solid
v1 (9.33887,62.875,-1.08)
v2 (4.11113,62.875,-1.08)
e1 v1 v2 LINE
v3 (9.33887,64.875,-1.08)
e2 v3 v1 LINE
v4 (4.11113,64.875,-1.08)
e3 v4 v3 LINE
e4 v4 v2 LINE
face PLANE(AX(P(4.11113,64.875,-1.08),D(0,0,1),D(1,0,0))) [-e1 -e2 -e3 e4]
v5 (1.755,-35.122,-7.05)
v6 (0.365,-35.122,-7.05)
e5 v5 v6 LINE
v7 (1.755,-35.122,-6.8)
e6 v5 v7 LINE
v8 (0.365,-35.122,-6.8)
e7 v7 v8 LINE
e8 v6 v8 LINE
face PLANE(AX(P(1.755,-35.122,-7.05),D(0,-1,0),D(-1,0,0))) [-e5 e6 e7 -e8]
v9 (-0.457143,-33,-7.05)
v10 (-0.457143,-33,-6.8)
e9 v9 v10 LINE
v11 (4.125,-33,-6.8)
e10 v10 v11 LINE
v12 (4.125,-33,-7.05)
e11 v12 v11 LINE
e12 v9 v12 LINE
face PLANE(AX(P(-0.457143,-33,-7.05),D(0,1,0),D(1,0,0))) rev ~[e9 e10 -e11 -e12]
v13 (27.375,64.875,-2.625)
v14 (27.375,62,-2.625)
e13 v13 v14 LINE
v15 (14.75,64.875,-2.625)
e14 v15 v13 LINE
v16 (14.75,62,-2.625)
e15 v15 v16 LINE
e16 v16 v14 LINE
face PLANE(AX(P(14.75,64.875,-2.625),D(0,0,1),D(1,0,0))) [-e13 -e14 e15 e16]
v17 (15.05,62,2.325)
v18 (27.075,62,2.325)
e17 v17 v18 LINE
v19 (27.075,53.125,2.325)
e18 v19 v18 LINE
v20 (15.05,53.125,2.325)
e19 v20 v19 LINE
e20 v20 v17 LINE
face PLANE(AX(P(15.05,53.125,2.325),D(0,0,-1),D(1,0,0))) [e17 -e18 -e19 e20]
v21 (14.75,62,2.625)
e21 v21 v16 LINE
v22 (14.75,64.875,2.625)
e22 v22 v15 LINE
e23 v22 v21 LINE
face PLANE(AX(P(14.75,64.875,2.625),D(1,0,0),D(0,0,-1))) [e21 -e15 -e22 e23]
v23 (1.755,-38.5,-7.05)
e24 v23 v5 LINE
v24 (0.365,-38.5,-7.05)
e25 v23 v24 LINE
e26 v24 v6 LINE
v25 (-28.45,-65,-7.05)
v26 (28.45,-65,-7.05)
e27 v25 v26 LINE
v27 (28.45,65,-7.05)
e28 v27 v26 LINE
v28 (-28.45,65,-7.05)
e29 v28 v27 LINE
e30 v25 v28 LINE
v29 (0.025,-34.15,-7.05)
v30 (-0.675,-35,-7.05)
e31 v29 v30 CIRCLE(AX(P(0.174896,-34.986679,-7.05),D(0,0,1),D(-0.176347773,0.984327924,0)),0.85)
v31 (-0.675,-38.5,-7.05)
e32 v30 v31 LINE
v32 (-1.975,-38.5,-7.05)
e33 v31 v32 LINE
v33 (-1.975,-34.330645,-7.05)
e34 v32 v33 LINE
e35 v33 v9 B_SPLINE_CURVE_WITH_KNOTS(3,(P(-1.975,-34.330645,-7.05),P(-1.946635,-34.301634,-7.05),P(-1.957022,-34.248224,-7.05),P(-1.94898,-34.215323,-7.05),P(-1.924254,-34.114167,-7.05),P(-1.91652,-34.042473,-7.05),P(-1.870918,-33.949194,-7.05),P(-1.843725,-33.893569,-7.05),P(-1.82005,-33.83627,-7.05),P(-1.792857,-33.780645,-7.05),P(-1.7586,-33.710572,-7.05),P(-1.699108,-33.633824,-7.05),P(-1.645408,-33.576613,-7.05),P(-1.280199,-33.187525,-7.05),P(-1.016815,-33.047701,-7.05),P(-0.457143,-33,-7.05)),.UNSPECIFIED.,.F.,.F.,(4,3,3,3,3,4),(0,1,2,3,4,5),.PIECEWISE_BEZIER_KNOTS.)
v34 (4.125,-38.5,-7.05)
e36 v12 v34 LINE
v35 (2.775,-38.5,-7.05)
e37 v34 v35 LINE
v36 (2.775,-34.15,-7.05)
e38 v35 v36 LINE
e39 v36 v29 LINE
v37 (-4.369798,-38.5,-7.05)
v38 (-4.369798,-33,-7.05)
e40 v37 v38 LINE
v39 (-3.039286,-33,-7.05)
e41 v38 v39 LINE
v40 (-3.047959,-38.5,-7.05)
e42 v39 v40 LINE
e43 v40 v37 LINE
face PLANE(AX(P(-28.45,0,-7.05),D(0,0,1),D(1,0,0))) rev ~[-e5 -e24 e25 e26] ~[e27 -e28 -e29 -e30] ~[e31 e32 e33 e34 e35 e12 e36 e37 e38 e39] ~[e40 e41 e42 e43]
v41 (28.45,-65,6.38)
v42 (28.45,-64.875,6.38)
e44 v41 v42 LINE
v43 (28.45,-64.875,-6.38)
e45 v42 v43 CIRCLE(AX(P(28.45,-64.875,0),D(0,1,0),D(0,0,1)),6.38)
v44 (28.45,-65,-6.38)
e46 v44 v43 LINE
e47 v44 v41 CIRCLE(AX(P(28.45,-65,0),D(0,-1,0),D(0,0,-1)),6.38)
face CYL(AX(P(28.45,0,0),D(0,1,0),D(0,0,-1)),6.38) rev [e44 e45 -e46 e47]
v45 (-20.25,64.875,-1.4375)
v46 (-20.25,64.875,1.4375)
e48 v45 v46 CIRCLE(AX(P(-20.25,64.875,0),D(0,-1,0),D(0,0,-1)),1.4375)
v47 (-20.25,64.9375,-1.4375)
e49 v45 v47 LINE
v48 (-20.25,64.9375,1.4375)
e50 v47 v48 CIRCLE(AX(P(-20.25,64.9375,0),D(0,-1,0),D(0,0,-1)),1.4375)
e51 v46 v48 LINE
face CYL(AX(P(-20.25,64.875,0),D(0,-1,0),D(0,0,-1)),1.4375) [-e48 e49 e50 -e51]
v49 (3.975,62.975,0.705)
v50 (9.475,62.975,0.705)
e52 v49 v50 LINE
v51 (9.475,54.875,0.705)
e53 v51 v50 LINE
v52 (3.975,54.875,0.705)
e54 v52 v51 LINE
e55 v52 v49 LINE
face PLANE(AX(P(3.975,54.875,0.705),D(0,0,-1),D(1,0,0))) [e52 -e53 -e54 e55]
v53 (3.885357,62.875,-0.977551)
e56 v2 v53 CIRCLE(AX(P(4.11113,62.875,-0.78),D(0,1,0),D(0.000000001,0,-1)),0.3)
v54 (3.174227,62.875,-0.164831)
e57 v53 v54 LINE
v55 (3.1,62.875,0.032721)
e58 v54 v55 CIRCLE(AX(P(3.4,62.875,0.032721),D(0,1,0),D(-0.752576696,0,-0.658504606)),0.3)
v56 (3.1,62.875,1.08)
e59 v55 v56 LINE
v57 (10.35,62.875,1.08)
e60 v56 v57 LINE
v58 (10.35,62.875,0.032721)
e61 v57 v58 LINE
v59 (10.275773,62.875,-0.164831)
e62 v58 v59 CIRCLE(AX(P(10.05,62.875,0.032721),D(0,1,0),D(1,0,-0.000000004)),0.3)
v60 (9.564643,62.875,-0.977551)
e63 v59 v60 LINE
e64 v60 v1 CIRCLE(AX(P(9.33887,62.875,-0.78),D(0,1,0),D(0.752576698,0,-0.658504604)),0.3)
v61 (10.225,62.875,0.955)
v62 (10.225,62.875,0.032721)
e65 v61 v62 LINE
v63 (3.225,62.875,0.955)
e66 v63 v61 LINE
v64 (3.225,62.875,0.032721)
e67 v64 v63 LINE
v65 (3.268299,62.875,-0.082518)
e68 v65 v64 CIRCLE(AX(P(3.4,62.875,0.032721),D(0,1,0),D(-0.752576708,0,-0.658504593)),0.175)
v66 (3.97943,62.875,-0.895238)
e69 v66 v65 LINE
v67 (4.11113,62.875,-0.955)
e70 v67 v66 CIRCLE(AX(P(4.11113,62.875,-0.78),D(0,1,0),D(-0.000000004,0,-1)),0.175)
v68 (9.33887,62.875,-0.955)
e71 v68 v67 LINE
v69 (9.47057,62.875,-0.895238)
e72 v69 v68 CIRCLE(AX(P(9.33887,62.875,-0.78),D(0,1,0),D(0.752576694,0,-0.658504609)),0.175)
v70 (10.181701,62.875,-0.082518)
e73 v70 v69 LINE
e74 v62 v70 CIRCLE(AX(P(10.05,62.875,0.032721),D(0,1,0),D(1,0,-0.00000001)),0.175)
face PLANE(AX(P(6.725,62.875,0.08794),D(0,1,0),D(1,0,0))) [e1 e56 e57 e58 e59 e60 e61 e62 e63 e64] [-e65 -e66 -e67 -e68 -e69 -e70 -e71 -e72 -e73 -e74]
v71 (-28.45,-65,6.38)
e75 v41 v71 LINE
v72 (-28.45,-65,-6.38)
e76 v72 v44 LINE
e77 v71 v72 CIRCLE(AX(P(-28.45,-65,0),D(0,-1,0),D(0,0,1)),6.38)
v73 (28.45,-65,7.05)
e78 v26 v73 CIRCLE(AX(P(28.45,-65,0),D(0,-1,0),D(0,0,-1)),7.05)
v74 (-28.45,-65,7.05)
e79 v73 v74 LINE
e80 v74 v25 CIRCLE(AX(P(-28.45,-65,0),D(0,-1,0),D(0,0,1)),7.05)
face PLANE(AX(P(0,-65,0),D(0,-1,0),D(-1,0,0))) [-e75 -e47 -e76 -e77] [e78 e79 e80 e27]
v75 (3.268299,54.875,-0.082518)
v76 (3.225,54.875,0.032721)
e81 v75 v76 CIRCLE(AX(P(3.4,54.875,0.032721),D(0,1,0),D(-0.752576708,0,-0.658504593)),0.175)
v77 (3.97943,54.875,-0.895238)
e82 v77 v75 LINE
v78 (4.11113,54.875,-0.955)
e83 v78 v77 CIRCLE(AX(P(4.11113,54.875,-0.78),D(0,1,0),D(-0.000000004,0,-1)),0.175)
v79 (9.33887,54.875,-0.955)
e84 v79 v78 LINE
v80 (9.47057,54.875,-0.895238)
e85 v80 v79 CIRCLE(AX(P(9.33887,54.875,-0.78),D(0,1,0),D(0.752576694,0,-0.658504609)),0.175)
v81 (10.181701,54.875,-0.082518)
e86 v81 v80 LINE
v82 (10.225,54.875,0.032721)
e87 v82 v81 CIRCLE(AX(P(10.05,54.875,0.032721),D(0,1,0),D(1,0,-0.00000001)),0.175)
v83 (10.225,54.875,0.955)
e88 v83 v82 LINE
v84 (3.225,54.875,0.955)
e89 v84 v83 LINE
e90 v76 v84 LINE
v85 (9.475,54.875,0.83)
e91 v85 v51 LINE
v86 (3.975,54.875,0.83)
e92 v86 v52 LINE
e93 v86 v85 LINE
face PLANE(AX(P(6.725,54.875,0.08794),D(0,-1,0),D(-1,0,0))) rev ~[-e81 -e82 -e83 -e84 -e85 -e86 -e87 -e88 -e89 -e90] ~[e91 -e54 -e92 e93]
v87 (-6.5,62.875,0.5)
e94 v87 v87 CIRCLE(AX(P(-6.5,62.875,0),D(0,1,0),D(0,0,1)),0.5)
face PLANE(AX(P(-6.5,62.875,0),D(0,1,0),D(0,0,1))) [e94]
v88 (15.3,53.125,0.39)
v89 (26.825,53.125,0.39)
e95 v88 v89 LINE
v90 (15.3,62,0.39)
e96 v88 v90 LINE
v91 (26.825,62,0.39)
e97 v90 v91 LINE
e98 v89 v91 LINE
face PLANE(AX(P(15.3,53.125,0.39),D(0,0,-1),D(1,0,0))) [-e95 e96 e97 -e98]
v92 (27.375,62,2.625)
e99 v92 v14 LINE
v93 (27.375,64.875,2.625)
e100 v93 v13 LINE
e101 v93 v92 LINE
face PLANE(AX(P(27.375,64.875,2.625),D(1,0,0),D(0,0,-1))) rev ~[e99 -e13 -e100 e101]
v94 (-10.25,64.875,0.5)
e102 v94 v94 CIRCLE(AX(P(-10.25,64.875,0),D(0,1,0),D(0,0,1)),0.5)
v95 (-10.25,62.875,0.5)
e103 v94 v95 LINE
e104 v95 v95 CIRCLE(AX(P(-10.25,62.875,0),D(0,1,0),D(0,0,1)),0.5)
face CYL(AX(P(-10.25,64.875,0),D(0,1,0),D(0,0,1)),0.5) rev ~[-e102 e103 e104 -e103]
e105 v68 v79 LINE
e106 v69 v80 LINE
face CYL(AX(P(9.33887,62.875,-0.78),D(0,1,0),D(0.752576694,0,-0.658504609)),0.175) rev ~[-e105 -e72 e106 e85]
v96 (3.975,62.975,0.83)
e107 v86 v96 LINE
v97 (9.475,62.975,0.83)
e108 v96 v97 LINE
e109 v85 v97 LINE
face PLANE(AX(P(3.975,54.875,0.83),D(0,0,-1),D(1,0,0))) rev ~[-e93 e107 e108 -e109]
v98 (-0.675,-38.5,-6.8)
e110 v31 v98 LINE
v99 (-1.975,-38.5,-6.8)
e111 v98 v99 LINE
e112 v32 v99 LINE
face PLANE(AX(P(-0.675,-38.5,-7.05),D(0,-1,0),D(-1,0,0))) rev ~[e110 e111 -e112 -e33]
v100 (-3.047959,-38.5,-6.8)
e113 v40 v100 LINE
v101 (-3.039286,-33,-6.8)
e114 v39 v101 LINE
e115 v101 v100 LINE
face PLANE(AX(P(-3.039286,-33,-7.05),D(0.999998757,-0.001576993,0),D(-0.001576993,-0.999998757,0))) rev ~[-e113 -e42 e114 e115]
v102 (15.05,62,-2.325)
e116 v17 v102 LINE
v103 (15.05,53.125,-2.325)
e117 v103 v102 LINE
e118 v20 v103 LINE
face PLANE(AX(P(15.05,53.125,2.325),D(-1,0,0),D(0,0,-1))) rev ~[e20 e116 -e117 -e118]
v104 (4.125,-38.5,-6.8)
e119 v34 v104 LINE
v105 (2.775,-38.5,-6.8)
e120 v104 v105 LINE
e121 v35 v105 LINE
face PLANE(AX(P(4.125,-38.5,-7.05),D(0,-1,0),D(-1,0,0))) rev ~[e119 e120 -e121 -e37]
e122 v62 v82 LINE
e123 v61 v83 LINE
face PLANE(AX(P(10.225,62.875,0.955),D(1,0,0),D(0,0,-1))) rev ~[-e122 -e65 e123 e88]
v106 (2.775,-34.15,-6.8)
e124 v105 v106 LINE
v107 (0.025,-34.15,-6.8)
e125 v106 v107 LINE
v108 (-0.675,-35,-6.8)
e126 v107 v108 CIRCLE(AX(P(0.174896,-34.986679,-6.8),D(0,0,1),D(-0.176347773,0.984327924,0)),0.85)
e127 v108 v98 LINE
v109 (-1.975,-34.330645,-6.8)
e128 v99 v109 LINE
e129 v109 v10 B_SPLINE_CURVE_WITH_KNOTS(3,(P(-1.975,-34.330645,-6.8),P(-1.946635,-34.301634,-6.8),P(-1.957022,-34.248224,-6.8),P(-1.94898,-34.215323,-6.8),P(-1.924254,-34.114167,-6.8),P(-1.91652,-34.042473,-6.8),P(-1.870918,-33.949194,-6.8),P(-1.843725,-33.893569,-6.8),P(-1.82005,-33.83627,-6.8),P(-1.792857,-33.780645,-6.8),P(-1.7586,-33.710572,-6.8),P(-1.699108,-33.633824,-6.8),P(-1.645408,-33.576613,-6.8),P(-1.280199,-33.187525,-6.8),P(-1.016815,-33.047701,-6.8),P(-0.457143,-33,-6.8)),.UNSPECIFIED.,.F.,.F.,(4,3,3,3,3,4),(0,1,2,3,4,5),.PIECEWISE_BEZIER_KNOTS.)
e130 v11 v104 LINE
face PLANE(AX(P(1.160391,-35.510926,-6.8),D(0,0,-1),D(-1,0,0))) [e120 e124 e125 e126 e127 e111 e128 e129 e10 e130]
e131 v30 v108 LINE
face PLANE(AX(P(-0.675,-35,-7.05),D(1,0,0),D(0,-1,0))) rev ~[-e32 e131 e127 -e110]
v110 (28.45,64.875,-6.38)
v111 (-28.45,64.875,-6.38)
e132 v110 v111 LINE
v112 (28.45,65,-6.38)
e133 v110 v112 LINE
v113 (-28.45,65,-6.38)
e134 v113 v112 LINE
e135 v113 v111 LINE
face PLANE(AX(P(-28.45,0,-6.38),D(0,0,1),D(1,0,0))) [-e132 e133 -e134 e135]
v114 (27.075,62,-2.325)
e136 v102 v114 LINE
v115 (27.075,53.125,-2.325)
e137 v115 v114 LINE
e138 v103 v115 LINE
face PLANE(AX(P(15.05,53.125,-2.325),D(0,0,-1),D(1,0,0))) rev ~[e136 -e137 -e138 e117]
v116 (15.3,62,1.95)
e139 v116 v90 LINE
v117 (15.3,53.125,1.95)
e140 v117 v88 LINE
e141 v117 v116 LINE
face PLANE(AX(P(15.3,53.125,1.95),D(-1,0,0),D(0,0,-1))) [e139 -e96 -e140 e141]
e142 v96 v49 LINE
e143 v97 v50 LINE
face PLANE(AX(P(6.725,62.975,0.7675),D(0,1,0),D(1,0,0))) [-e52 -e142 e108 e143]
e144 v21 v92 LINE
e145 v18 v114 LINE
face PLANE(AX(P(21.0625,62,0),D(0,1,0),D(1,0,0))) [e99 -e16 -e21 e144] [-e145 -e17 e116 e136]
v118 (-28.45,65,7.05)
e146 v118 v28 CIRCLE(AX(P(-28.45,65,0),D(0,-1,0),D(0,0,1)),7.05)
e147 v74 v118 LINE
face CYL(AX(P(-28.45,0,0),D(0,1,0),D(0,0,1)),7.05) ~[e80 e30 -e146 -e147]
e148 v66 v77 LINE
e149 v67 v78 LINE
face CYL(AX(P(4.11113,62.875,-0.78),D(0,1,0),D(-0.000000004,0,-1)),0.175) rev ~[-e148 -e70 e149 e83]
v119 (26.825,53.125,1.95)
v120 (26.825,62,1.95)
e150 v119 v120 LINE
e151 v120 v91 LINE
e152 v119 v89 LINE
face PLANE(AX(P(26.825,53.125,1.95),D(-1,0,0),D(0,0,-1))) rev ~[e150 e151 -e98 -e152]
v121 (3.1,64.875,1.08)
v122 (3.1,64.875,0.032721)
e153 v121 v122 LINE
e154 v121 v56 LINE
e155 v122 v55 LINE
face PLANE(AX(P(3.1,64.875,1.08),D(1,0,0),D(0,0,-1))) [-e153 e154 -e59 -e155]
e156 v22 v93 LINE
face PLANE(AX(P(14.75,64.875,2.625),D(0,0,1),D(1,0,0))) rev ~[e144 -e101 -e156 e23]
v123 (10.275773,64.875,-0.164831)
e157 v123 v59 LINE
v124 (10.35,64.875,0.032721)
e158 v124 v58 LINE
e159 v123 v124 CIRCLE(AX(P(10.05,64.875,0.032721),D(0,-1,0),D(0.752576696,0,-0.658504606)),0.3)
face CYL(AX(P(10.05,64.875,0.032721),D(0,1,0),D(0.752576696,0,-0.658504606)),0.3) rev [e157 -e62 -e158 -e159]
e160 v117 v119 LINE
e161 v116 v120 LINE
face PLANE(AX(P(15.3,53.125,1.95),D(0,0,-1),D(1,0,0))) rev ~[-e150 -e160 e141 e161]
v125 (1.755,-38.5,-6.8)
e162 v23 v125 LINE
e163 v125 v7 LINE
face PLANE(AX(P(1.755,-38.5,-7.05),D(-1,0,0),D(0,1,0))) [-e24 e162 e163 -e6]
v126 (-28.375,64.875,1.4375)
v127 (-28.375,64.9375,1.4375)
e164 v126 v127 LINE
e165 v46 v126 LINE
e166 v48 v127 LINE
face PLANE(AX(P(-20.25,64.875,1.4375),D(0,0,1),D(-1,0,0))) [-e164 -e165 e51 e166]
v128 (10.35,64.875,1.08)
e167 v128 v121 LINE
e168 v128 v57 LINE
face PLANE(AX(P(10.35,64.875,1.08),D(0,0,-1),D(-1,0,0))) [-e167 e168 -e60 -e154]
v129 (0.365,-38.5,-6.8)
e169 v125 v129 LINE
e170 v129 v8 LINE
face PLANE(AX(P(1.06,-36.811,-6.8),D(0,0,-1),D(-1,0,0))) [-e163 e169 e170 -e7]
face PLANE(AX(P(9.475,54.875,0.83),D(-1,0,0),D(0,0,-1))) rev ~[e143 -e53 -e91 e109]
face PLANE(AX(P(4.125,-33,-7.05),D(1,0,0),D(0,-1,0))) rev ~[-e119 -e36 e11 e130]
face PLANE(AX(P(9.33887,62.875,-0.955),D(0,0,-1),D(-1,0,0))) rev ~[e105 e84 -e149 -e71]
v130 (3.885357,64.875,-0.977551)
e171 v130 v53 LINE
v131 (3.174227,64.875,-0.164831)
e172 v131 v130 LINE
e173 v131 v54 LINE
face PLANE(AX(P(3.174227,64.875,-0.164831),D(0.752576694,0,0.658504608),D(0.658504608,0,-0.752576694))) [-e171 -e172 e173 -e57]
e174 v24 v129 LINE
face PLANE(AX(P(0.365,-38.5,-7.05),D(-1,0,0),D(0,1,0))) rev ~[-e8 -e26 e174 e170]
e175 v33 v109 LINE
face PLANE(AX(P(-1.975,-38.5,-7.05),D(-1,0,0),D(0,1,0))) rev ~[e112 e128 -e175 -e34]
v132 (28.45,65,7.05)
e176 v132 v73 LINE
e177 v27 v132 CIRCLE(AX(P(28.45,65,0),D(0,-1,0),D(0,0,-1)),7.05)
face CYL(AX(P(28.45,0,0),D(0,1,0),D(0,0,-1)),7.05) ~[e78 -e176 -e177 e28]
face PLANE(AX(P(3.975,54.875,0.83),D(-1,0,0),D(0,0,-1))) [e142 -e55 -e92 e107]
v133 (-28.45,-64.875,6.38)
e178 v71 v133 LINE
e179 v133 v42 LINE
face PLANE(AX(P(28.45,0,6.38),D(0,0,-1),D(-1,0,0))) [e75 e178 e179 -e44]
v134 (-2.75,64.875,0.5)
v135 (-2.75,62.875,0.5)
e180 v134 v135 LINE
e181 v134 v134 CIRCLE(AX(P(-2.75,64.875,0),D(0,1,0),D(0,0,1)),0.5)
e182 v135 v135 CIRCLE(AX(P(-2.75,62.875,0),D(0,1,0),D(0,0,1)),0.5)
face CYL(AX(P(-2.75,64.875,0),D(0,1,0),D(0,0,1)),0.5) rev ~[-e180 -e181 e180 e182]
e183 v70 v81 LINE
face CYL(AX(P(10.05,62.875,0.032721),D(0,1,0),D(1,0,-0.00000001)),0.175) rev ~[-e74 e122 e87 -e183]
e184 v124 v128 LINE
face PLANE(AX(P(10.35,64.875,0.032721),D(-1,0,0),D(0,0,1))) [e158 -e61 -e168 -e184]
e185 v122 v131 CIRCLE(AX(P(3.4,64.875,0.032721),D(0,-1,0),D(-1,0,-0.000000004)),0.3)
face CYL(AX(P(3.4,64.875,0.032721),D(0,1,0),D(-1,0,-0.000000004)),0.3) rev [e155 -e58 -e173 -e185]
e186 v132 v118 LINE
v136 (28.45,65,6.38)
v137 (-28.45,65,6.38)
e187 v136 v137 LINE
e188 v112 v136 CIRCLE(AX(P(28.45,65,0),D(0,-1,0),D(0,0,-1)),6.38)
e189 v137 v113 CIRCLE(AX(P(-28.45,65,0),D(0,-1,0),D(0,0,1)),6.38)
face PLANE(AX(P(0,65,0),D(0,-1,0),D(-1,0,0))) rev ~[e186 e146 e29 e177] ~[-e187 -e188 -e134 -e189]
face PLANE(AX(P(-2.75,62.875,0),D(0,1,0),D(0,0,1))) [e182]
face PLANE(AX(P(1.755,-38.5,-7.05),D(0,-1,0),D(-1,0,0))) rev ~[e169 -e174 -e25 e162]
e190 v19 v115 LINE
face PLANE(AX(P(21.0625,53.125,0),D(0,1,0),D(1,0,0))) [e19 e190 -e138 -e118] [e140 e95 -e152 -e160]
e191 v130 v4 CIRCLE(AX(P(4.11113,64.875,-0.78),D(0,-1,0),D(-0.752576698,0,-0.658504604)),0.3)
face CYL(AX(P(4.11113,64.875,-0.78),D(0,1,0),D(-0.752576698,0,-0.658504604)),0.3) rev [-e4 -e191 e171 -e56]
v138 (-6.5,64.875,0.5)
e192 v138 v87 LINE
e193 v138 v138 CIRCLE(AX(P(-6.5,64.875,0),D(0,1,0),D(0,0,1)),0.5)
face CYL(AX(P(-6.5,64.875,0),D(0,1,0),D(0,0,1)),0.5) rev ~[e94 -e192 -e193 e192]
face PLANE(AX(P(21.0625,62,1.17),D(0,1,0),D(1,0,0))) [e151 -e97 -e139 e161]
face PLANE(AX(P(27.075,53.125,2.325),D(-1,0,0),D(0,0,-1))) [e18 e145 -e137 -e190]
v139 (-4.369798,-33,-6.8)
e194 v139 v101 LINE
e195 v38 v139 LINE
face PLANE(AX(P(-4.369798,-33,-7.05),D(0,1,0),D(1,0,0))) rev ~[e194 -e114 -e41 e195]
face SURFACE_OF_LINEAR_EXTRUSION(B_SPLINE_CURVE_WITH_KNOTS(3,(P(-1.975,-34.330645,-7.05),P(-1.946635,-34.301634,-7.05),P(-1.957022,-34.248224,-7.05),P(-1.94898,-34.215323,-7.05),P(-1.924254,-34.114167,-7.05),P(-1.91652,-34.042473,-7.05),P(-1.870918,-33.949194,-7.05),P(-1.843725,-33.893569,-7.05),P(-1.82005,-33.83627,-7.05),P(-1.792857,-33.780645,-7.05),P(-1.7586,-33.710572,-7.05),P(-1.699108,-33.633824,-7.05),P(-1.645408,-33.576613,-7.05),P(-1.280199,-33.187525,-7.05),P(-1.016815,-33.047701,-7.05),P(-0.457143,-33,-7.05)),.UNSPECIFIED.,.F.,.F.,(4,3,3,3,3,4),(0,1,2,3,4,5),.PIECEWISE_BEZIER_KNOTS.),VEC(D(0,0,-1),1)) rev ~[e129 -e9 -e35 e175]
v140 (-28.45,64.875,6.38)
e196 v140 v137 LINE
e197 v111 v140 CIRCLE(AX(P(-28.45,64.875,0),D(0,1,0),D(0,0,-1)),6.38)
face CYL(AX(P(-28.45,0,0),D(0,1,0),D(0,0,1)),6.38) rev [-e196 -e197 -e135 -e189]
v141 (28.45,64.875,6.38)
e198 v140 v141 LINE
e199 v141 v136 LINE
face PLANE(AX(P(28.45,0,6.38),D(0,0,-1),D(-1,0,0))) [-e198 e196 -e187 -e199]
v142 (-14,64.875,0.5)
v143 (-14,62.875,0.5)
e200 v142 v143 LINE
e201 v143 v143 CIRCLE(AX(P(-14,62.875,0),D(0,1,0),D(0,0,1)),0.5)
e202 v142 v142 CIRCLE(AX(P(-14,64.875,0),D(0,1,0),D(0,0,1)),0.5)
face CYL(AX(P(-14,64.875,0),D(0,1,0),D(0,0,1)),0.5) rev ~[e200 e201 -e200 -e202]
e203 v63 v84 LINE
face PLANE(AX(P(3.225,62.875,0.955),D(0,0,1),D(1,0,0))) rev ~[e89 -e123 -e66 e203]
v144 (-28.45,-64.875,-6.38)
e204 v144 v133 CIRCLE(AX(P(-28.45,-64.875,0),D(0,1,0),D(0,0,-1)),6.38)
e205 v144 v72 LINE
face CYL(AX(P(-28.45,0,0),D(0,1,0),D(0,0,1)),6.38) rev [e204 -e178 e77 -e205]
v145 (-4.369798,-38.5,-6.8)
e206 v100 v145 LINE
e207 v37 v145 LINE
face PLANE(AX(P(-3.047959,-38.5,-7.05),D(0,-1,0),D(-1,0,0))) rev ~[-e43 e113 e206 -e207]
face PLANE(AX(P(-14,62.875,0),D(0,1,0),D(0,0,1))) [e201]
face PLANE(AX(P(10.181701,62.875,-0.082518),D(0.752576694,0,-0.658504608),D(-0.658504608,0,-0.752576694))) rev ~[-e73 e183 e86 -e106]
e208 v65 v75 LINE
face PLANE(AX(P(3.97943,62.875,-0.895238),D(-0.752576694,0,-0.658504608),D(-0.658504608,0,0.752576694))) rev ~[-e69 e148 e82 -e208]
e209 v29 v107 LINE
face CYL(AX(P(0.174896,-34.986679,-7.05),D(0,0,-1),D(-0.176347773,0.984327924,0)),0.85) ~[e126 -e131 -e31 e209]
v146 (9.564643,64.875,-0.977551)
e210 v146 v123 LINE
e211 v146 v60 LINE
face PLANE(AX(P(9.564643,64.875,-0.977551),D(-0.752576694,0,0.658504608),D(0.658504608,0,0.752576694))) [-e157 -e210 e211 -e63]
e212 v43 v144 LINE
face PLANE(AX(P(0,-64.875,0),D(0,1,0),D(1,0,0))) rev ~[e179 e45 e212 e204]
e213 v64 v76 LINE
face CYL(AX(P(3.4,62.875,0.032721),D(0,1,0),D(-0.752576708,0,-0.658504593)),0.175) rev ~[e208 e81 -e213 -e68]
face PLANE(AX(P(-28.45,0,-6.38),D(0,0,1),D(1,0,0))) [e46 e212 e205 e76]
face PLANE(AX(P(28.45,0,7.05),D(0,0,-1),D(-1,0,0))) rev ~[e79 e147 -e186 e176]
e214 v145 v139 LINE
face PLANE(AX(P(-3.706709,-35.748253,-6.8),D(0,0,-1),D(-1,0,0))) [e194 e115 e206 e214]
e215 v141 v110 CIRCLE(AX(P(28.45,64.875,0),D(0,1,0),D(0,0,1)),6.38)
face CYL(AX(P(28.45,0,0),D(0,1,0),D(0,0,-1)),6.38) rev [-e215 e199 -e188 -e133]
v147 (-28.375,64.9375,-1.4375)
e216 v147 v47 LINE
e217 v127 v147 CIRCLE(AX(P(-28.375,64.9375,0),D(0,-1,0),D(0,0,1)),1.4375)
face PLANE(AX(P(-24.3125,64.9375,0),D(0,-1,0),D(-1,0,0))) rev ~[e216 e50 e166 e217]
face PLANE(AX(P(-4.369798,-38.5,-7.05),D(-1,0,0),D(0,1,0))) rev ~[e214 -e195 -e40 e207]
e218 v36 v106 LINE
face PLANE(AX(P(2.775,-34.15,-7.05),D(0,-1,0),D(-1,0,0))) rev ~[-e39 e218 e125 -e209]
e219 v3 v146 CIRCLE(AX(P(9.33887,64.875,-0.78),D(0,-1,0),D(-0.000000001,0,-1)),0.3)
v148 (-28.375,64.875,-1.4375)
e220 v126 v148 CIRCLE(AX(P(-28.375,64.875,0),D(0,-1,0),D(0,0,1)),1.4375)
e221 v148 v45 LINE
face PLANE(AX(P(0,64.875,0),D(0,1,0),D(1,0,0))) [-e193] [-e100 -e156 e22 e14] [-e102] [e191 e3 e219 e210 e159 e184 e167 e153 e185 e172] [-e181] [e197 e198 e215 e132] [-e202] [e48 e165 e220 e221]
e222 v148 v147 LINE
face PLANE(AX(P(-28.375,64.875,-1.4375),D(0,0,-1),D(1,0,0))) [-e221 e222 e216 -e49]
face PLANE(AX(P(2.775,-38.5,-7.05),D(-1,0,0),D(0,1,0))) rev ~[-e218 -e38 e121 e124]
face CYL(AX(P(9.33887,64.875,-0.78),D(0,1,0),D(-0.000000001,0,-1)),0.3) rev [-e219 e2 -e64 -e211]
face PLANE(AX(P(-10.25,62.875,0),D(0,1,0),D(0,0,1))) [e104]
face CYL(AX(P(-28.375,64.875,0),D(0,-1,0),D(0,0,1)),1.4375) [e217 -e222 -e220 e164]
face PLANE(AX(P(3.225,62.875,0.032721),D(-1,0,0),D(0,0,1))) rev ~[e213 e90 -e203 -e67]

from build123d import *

# Parameters (mm, degrees)
BOSS_EXTRUDE1_DEPTH = 65
BOSS_EXTRUDE2_DEPTH = 129.75
SKETCH5_W           = 1.39
SKETCH5_H           = 3.378
CUT_EXTRUDE1_DEPTH  = 0.25
SKETCH8_R           = 0.5
CUT_EXTRUDE2_DEPTH  = 2
BOSS_EXTRUDE3_DEPTH = 0.0625
SKETCH11_W          = 12.625
SKETCH11_H          = 5.25
CUT_EXTRUDE4_DEPTH  = 11.75
SKETCH12_W          = 12.625
SKETCH12_H          = 5.25
SKETCH12_W_2        = 12.025
SKETCH12_H_2        = 4.65
BOSS_EXTRUDE4_DEPTH = 8.875
SKETCH13_W          = 11.525
SKETCH13_H          = 1.56
BOSS_EXTRUDE5_DEPTH = 8.875
CUT_EXTRUDE5_DEPTH  = 10
SKETCH17_W          = 5.5
SKETCH17_H          = 0.125
BOSS_EXTRUDE6_DEPTH = 8.1
BOSS_EXTRUDE7_START = 8
BOSS_EXTRUDE7_DEPTH = 8


with BuildPart() as part:
    # Sketch1 → Boss-Extrude1 (new, symmetric)
    with BuildSketch(Plane(origin=(0, 0, 0), x_dir=(1, 0, 0), z_dir=(0, 1, 0))):
        with BuildLine():
            Line((-28.45, 7.05), (28.45, 7.05))
            ThreePointArc((28.45, 7.05), (35.5, 0), (28.45, -7.05))
            Line((28.45, -7.05), (-28.45, -7.05))
            ThreePointArc((-28.45, -7.05), (-35.5, 0), (-28.45, 7.05))
        make_face()
        with BuildLine():
            Line((-28.45, 6.38), (28.45, 6.38))
            ThreePointArc((28.45, 6.38), (34.83, 0), (28.45, -6.38))
            Line((28.45, -6.38), (-28.45, -6.38))
            ThreePointArc((-28.45, -6.38), (-34.83, 0), (-28.45, 6.38))
        make_face(mode=Mode.SUBTRACT)
    extrude(amount=BOSS_EXTRUDE1_DEPTH, both=True)

    # Sketch2 → Boss-Extrude2 (add)
    with BuildSketch(Plane(origin=(0, 64.875, 0), x_dir=(1, 0, 0), z_dir=(0, 1, 0))):
        with BuildLine():
            Line((-28.45, -6.38), (28.45, -6.38))
            ThreePointArc((28.45, -6.38), (34.83, 0), (28.45, 6.38))
            Line((28.45, 6.38), (-28.45, 6.38))
            ThreePointArc((-28.45, 6.38), (-34.83, 0), (-28.45, -6.38))
        make_face()
    extrude(amount=-BOSS_EXTRUDE2_DEPTH)

    # Sketch5 → Cut-Extrude1 (cut)
    with BuildSketch(Plane(origin=(0, 0, -7.05), x_dir=(-1, 0, 0), z_dir=(0, 0, -1))):
        Polygon((3.047959184, -38.5), (4.369798182, -38.5), (4.369798182, -33), (3.039285714, -33), align=None)
        with BuildLine():
            Line((-4.125, -33), (-4.125, -38.5))
            Line((-4.125, -38.5), (-2.775, -38.5))
            Line((-2.775, -38.5), (-2.775, -34.15))
            Line((-2.775, -34.15), (-0.025, -34.15))
            ThreePointArc((-0.025, -34.15), (0.481245093, -34.446327571), (0.675, -35))
            Line((0.675, -35), (0.675, -38.5))
            Line((0.675, -38.5), (1.975, -38.5))
            Line((1.975, -38.5), (1.975, -34.330645161))
            add(Edge.make_bspline(
                [(1.975, -34.330645161), (1.946635107, -34.301634388), (1.95702187, -34.248224197), (1.948979592, -34.215322581), (1.924253679, -34.114166856), (1.916519719, -34.042472973), (1.870918367, -33.949193548), (1.843725239, -33.893568896), (1.820050271, -33.836269814), (1.792857143, -33.780645161), (1.758600377, -33.710571549), (1.699108422, -33.633824398), (1.645408163, -33.576612903), (1.280199443, -33.187524707), (1.016815103, -33.047701351), (0.457142857, -33)],
                knots=[0, 0, 0, 0, 1, 1, 1, 2, 2, 2, 3, 3, 3, 4, 4, 4, 5, 5, 5, 5], degree=3))
            Line((0.457142857, -33), (-4.125, -33))
        make_face()
        with Locations((-1.06, -36.811)):
            Rectangle(SKETCH5_W, SKETCH5_H)
    extrude(amount=-CUT_EXTRUDE1_DEPTH, mode=Mode.SUBTRACT)

    # Sketch8 → Cut-Extrude2 (cut)
    with BuildSketch(Plane(origin=(0, 64.875, 0), x_dir=(1, 0, 0), z_dir=(0, 1, 0))):
        with Locations(Location((-14, 0, 0), (0, 0, 270))):
            Circle(SKETCH8_R)
        with Locations(Location((-10.25, 0, 0), (0, 0, 270))):
            Circle(SKETCH8_R)
        with Locations(Location((-6.5, 0, 0), (0, 0, 270))):
            Circle(SKETCH8_R)
        with Locations(Location((-2.75, 0, 0), (0, 0, 270))):
            Circle(SKETCH8_R)
    extrude(amount=-CUT_EXTRUDE2_DEPTH, mode=Mode.SUBTRACT)

    # Sketch9 → Boss-Extrude3 (add)
    with BuildSketch(Plane(origin=(0, 64.875, 0), x_dir=(1, 0, 0), z_dir=(0, 1, 0))):
        with BuildLine():
            Line((-28.375, 1.4375), (-20.25, 1.4375))
            ThreePointArc((-20.25, 1.4375), (-18.8125, 0), (-20.25, -1.4375))
            Line((-20.25, -1.4375), (-28.375, -1.4375))
            ThreePointArc((-28.375, -1.4375), (-29.8125, 0), (-28.375, 1.4375))
        make_face()
    extrude(amount=BOSS_EXTRUDE3_DEPTH)

    # Sketch11 → Cut-Extrude4 (cut)
    with BuildSketch(Plane(origin=(0, 64.875, 0), x_dir=(1, 0, 0), z_dir=(0, 1, 0))):
        with Locations((21.0625, 0)):
            Rectangle(SKETCH11_W, SKETCH11_H)
    extrude(amount=-CUT_EXTRUDE4_DEPTH, mode=Mode.SUBTRACT)

    # Sketch12 → Boss-Extrude4 (add)
    with BuildSketch(Plane(origin=(0, 53.125, 0), x_dir=(1, 0, 0), z_dir=(0, 1, 0))):
        with Locations((21.0625, 0)):
            Rectangle(SKETCH12_W, SKETCH12_H)
        with Locations((21.0625, 0)):
            Rectangle(SKETCH12_W_2, SKETCH12_H_2, mode=Mode.SUBTRACT)
    extrude(amount=BOSS_EXTRUDE4_DEPTH)

    # Sketch13 → Boss-Extrude5 (add)
    with BuildSketch(Plane(origin=(0, 53.125, 0), x_dir=(1, 0, 0), z_dir=(0, 1, 0))):
        with Locations((21.0625, -1.17)):
            Rectangle(SKETCH13_W, SKETCH13_H)
    extrude(amount=BOSS_EXTRUDE5_DEPTH)

    # Sketch16 → Cut-Extrude5 (cut)
    with BuildSketch(Plane(origin=(0, 64.875, 0), x_dir=(1, 0, 0), z_dir=(0, 1, 0))):
        with BuildLine():
            Line((4.111130468, 1.08), (9.338869532, 1.08))
            ThreePointArc((9.338869532, 1.08), (9.462834417, 1.053189874), (9.56464254, 0.977551382))
            Line((9.56464254, 0.977551382), (10.275773008, 0.164830848))
            ThreePointArc((10.275773008, 0.164830848), (10.330830823, 0.072797467), (10.35, -0.032720535))
            Line((10.35, -0.032720535), (10.35, -1.08))
            Line((10.35, -1.08), (3.1, -1.08))
            Line((3.1, -1.08), (3.1, -0.032720535))
            ThreePointArc((3.1, -0.032720535), (3.119169177, 0.072797467), (3.174226992, 0.164830848))
            Line((3.174226992, 0.164830848), (3.88535746, 0.977551382))
            ThreePointArc((3.88535746, 0.977551382), (3.987165583, 1.053189874), (4.111130468, 1.08))
        make_face()
    extrude(amount=-CUT_EXTRUDE5_DEPTH, mode=Mode.SUBTRACT)

    # Sketch17 → Boss-Extrude6 (add)
    with BuildSketch(Plane(origin=(0, 54.875, 0), x_dir=(1, 0, 0), z_dir=(0, 1, 0))):
        with Locations((6.725, -0.7675)):
            Rectangle(SKETCH17_W, SKETCH17_H)
    extrude(amount=BOSS_EXTRUDE6_DEPTH)

    # Sketch18 → Boss-Extrude7 (add)
    with BuildSketch(Plane(origin=(0, 54.875, 0), x_dir=(1, 0, 0), z_dir=(0, 1, 0)).offset(BOSS_EXTRUDE7_START)):
        with BuildLine():
            Line((3.1, -1.08), (10.35, -1.08))
            Line((10.35, -1.08), (10.35, -0.032720535))
            ThreePointArc((10.35, -0.032720535), (10.330830823, 0.072797467), (10.275773008, 0.164830848))
            Line((10.275773008, 0.164830848), (9.56464254, 0.977551382))
            ThreePointArc((9.56464254, 0.977551382), (9.462834417, 1.053189874), (9.338869532, 1.08))
            Line((9.338869532, 1.08), (4.111130468, 1.08))
            ThreePointArc((4.111130468, 1.08), (3.987165583, 1.053189874), (3.88535746, 0.977551382))
            Line((3.88535746, 0.977551382), (3.174226992, 0.164830848))
            ThreePointArc((3.174226992, 0.164830848), (3.119169177, 0.072797467), (3.1, -0.032720535))
            Line((3.1, -0.032720535), (3.1, -1.08))
        make_face()
        with BuildLine():
            Line((3.225, -0.032720535), (3.225, -0.955))
            Line((3.225, -0.955), (10.225, -0.955))
            Line((10.225, -0.955), (10.225, -0.032720535))
            ThreePointArc((10.225, -0.032720535), (10.21381798, 0.028831633), (10.181700922, 0.082517772))
            Line((10.181700922, 0.082517772), (9.470570454, 0.895238306))
            ThreePointArc((9.470570454, 0.895238306), (9.411182381, 0.93936076), (9.338869532, 0.955))
            Line((9.338869532, 0.955), (4.111130468, 0.955))
            ThreePointArc((4.111130468, 0.955), (4.038817619, 0.93936076), (3.979429546, 0.895238306))
            Line((3.979429546, 0.895238306), (3.268299078, 0.082517772))
            ThreePointArc((3.268299078, 0.082517772), (3.23618202, 0.028831633), (3.225, -0.032720535))
        make_face(mode=Mode.SUBTRACT)
    extrude(amount=-BOSS_EXTRUDE7_DEPTH)


solid = part.part
